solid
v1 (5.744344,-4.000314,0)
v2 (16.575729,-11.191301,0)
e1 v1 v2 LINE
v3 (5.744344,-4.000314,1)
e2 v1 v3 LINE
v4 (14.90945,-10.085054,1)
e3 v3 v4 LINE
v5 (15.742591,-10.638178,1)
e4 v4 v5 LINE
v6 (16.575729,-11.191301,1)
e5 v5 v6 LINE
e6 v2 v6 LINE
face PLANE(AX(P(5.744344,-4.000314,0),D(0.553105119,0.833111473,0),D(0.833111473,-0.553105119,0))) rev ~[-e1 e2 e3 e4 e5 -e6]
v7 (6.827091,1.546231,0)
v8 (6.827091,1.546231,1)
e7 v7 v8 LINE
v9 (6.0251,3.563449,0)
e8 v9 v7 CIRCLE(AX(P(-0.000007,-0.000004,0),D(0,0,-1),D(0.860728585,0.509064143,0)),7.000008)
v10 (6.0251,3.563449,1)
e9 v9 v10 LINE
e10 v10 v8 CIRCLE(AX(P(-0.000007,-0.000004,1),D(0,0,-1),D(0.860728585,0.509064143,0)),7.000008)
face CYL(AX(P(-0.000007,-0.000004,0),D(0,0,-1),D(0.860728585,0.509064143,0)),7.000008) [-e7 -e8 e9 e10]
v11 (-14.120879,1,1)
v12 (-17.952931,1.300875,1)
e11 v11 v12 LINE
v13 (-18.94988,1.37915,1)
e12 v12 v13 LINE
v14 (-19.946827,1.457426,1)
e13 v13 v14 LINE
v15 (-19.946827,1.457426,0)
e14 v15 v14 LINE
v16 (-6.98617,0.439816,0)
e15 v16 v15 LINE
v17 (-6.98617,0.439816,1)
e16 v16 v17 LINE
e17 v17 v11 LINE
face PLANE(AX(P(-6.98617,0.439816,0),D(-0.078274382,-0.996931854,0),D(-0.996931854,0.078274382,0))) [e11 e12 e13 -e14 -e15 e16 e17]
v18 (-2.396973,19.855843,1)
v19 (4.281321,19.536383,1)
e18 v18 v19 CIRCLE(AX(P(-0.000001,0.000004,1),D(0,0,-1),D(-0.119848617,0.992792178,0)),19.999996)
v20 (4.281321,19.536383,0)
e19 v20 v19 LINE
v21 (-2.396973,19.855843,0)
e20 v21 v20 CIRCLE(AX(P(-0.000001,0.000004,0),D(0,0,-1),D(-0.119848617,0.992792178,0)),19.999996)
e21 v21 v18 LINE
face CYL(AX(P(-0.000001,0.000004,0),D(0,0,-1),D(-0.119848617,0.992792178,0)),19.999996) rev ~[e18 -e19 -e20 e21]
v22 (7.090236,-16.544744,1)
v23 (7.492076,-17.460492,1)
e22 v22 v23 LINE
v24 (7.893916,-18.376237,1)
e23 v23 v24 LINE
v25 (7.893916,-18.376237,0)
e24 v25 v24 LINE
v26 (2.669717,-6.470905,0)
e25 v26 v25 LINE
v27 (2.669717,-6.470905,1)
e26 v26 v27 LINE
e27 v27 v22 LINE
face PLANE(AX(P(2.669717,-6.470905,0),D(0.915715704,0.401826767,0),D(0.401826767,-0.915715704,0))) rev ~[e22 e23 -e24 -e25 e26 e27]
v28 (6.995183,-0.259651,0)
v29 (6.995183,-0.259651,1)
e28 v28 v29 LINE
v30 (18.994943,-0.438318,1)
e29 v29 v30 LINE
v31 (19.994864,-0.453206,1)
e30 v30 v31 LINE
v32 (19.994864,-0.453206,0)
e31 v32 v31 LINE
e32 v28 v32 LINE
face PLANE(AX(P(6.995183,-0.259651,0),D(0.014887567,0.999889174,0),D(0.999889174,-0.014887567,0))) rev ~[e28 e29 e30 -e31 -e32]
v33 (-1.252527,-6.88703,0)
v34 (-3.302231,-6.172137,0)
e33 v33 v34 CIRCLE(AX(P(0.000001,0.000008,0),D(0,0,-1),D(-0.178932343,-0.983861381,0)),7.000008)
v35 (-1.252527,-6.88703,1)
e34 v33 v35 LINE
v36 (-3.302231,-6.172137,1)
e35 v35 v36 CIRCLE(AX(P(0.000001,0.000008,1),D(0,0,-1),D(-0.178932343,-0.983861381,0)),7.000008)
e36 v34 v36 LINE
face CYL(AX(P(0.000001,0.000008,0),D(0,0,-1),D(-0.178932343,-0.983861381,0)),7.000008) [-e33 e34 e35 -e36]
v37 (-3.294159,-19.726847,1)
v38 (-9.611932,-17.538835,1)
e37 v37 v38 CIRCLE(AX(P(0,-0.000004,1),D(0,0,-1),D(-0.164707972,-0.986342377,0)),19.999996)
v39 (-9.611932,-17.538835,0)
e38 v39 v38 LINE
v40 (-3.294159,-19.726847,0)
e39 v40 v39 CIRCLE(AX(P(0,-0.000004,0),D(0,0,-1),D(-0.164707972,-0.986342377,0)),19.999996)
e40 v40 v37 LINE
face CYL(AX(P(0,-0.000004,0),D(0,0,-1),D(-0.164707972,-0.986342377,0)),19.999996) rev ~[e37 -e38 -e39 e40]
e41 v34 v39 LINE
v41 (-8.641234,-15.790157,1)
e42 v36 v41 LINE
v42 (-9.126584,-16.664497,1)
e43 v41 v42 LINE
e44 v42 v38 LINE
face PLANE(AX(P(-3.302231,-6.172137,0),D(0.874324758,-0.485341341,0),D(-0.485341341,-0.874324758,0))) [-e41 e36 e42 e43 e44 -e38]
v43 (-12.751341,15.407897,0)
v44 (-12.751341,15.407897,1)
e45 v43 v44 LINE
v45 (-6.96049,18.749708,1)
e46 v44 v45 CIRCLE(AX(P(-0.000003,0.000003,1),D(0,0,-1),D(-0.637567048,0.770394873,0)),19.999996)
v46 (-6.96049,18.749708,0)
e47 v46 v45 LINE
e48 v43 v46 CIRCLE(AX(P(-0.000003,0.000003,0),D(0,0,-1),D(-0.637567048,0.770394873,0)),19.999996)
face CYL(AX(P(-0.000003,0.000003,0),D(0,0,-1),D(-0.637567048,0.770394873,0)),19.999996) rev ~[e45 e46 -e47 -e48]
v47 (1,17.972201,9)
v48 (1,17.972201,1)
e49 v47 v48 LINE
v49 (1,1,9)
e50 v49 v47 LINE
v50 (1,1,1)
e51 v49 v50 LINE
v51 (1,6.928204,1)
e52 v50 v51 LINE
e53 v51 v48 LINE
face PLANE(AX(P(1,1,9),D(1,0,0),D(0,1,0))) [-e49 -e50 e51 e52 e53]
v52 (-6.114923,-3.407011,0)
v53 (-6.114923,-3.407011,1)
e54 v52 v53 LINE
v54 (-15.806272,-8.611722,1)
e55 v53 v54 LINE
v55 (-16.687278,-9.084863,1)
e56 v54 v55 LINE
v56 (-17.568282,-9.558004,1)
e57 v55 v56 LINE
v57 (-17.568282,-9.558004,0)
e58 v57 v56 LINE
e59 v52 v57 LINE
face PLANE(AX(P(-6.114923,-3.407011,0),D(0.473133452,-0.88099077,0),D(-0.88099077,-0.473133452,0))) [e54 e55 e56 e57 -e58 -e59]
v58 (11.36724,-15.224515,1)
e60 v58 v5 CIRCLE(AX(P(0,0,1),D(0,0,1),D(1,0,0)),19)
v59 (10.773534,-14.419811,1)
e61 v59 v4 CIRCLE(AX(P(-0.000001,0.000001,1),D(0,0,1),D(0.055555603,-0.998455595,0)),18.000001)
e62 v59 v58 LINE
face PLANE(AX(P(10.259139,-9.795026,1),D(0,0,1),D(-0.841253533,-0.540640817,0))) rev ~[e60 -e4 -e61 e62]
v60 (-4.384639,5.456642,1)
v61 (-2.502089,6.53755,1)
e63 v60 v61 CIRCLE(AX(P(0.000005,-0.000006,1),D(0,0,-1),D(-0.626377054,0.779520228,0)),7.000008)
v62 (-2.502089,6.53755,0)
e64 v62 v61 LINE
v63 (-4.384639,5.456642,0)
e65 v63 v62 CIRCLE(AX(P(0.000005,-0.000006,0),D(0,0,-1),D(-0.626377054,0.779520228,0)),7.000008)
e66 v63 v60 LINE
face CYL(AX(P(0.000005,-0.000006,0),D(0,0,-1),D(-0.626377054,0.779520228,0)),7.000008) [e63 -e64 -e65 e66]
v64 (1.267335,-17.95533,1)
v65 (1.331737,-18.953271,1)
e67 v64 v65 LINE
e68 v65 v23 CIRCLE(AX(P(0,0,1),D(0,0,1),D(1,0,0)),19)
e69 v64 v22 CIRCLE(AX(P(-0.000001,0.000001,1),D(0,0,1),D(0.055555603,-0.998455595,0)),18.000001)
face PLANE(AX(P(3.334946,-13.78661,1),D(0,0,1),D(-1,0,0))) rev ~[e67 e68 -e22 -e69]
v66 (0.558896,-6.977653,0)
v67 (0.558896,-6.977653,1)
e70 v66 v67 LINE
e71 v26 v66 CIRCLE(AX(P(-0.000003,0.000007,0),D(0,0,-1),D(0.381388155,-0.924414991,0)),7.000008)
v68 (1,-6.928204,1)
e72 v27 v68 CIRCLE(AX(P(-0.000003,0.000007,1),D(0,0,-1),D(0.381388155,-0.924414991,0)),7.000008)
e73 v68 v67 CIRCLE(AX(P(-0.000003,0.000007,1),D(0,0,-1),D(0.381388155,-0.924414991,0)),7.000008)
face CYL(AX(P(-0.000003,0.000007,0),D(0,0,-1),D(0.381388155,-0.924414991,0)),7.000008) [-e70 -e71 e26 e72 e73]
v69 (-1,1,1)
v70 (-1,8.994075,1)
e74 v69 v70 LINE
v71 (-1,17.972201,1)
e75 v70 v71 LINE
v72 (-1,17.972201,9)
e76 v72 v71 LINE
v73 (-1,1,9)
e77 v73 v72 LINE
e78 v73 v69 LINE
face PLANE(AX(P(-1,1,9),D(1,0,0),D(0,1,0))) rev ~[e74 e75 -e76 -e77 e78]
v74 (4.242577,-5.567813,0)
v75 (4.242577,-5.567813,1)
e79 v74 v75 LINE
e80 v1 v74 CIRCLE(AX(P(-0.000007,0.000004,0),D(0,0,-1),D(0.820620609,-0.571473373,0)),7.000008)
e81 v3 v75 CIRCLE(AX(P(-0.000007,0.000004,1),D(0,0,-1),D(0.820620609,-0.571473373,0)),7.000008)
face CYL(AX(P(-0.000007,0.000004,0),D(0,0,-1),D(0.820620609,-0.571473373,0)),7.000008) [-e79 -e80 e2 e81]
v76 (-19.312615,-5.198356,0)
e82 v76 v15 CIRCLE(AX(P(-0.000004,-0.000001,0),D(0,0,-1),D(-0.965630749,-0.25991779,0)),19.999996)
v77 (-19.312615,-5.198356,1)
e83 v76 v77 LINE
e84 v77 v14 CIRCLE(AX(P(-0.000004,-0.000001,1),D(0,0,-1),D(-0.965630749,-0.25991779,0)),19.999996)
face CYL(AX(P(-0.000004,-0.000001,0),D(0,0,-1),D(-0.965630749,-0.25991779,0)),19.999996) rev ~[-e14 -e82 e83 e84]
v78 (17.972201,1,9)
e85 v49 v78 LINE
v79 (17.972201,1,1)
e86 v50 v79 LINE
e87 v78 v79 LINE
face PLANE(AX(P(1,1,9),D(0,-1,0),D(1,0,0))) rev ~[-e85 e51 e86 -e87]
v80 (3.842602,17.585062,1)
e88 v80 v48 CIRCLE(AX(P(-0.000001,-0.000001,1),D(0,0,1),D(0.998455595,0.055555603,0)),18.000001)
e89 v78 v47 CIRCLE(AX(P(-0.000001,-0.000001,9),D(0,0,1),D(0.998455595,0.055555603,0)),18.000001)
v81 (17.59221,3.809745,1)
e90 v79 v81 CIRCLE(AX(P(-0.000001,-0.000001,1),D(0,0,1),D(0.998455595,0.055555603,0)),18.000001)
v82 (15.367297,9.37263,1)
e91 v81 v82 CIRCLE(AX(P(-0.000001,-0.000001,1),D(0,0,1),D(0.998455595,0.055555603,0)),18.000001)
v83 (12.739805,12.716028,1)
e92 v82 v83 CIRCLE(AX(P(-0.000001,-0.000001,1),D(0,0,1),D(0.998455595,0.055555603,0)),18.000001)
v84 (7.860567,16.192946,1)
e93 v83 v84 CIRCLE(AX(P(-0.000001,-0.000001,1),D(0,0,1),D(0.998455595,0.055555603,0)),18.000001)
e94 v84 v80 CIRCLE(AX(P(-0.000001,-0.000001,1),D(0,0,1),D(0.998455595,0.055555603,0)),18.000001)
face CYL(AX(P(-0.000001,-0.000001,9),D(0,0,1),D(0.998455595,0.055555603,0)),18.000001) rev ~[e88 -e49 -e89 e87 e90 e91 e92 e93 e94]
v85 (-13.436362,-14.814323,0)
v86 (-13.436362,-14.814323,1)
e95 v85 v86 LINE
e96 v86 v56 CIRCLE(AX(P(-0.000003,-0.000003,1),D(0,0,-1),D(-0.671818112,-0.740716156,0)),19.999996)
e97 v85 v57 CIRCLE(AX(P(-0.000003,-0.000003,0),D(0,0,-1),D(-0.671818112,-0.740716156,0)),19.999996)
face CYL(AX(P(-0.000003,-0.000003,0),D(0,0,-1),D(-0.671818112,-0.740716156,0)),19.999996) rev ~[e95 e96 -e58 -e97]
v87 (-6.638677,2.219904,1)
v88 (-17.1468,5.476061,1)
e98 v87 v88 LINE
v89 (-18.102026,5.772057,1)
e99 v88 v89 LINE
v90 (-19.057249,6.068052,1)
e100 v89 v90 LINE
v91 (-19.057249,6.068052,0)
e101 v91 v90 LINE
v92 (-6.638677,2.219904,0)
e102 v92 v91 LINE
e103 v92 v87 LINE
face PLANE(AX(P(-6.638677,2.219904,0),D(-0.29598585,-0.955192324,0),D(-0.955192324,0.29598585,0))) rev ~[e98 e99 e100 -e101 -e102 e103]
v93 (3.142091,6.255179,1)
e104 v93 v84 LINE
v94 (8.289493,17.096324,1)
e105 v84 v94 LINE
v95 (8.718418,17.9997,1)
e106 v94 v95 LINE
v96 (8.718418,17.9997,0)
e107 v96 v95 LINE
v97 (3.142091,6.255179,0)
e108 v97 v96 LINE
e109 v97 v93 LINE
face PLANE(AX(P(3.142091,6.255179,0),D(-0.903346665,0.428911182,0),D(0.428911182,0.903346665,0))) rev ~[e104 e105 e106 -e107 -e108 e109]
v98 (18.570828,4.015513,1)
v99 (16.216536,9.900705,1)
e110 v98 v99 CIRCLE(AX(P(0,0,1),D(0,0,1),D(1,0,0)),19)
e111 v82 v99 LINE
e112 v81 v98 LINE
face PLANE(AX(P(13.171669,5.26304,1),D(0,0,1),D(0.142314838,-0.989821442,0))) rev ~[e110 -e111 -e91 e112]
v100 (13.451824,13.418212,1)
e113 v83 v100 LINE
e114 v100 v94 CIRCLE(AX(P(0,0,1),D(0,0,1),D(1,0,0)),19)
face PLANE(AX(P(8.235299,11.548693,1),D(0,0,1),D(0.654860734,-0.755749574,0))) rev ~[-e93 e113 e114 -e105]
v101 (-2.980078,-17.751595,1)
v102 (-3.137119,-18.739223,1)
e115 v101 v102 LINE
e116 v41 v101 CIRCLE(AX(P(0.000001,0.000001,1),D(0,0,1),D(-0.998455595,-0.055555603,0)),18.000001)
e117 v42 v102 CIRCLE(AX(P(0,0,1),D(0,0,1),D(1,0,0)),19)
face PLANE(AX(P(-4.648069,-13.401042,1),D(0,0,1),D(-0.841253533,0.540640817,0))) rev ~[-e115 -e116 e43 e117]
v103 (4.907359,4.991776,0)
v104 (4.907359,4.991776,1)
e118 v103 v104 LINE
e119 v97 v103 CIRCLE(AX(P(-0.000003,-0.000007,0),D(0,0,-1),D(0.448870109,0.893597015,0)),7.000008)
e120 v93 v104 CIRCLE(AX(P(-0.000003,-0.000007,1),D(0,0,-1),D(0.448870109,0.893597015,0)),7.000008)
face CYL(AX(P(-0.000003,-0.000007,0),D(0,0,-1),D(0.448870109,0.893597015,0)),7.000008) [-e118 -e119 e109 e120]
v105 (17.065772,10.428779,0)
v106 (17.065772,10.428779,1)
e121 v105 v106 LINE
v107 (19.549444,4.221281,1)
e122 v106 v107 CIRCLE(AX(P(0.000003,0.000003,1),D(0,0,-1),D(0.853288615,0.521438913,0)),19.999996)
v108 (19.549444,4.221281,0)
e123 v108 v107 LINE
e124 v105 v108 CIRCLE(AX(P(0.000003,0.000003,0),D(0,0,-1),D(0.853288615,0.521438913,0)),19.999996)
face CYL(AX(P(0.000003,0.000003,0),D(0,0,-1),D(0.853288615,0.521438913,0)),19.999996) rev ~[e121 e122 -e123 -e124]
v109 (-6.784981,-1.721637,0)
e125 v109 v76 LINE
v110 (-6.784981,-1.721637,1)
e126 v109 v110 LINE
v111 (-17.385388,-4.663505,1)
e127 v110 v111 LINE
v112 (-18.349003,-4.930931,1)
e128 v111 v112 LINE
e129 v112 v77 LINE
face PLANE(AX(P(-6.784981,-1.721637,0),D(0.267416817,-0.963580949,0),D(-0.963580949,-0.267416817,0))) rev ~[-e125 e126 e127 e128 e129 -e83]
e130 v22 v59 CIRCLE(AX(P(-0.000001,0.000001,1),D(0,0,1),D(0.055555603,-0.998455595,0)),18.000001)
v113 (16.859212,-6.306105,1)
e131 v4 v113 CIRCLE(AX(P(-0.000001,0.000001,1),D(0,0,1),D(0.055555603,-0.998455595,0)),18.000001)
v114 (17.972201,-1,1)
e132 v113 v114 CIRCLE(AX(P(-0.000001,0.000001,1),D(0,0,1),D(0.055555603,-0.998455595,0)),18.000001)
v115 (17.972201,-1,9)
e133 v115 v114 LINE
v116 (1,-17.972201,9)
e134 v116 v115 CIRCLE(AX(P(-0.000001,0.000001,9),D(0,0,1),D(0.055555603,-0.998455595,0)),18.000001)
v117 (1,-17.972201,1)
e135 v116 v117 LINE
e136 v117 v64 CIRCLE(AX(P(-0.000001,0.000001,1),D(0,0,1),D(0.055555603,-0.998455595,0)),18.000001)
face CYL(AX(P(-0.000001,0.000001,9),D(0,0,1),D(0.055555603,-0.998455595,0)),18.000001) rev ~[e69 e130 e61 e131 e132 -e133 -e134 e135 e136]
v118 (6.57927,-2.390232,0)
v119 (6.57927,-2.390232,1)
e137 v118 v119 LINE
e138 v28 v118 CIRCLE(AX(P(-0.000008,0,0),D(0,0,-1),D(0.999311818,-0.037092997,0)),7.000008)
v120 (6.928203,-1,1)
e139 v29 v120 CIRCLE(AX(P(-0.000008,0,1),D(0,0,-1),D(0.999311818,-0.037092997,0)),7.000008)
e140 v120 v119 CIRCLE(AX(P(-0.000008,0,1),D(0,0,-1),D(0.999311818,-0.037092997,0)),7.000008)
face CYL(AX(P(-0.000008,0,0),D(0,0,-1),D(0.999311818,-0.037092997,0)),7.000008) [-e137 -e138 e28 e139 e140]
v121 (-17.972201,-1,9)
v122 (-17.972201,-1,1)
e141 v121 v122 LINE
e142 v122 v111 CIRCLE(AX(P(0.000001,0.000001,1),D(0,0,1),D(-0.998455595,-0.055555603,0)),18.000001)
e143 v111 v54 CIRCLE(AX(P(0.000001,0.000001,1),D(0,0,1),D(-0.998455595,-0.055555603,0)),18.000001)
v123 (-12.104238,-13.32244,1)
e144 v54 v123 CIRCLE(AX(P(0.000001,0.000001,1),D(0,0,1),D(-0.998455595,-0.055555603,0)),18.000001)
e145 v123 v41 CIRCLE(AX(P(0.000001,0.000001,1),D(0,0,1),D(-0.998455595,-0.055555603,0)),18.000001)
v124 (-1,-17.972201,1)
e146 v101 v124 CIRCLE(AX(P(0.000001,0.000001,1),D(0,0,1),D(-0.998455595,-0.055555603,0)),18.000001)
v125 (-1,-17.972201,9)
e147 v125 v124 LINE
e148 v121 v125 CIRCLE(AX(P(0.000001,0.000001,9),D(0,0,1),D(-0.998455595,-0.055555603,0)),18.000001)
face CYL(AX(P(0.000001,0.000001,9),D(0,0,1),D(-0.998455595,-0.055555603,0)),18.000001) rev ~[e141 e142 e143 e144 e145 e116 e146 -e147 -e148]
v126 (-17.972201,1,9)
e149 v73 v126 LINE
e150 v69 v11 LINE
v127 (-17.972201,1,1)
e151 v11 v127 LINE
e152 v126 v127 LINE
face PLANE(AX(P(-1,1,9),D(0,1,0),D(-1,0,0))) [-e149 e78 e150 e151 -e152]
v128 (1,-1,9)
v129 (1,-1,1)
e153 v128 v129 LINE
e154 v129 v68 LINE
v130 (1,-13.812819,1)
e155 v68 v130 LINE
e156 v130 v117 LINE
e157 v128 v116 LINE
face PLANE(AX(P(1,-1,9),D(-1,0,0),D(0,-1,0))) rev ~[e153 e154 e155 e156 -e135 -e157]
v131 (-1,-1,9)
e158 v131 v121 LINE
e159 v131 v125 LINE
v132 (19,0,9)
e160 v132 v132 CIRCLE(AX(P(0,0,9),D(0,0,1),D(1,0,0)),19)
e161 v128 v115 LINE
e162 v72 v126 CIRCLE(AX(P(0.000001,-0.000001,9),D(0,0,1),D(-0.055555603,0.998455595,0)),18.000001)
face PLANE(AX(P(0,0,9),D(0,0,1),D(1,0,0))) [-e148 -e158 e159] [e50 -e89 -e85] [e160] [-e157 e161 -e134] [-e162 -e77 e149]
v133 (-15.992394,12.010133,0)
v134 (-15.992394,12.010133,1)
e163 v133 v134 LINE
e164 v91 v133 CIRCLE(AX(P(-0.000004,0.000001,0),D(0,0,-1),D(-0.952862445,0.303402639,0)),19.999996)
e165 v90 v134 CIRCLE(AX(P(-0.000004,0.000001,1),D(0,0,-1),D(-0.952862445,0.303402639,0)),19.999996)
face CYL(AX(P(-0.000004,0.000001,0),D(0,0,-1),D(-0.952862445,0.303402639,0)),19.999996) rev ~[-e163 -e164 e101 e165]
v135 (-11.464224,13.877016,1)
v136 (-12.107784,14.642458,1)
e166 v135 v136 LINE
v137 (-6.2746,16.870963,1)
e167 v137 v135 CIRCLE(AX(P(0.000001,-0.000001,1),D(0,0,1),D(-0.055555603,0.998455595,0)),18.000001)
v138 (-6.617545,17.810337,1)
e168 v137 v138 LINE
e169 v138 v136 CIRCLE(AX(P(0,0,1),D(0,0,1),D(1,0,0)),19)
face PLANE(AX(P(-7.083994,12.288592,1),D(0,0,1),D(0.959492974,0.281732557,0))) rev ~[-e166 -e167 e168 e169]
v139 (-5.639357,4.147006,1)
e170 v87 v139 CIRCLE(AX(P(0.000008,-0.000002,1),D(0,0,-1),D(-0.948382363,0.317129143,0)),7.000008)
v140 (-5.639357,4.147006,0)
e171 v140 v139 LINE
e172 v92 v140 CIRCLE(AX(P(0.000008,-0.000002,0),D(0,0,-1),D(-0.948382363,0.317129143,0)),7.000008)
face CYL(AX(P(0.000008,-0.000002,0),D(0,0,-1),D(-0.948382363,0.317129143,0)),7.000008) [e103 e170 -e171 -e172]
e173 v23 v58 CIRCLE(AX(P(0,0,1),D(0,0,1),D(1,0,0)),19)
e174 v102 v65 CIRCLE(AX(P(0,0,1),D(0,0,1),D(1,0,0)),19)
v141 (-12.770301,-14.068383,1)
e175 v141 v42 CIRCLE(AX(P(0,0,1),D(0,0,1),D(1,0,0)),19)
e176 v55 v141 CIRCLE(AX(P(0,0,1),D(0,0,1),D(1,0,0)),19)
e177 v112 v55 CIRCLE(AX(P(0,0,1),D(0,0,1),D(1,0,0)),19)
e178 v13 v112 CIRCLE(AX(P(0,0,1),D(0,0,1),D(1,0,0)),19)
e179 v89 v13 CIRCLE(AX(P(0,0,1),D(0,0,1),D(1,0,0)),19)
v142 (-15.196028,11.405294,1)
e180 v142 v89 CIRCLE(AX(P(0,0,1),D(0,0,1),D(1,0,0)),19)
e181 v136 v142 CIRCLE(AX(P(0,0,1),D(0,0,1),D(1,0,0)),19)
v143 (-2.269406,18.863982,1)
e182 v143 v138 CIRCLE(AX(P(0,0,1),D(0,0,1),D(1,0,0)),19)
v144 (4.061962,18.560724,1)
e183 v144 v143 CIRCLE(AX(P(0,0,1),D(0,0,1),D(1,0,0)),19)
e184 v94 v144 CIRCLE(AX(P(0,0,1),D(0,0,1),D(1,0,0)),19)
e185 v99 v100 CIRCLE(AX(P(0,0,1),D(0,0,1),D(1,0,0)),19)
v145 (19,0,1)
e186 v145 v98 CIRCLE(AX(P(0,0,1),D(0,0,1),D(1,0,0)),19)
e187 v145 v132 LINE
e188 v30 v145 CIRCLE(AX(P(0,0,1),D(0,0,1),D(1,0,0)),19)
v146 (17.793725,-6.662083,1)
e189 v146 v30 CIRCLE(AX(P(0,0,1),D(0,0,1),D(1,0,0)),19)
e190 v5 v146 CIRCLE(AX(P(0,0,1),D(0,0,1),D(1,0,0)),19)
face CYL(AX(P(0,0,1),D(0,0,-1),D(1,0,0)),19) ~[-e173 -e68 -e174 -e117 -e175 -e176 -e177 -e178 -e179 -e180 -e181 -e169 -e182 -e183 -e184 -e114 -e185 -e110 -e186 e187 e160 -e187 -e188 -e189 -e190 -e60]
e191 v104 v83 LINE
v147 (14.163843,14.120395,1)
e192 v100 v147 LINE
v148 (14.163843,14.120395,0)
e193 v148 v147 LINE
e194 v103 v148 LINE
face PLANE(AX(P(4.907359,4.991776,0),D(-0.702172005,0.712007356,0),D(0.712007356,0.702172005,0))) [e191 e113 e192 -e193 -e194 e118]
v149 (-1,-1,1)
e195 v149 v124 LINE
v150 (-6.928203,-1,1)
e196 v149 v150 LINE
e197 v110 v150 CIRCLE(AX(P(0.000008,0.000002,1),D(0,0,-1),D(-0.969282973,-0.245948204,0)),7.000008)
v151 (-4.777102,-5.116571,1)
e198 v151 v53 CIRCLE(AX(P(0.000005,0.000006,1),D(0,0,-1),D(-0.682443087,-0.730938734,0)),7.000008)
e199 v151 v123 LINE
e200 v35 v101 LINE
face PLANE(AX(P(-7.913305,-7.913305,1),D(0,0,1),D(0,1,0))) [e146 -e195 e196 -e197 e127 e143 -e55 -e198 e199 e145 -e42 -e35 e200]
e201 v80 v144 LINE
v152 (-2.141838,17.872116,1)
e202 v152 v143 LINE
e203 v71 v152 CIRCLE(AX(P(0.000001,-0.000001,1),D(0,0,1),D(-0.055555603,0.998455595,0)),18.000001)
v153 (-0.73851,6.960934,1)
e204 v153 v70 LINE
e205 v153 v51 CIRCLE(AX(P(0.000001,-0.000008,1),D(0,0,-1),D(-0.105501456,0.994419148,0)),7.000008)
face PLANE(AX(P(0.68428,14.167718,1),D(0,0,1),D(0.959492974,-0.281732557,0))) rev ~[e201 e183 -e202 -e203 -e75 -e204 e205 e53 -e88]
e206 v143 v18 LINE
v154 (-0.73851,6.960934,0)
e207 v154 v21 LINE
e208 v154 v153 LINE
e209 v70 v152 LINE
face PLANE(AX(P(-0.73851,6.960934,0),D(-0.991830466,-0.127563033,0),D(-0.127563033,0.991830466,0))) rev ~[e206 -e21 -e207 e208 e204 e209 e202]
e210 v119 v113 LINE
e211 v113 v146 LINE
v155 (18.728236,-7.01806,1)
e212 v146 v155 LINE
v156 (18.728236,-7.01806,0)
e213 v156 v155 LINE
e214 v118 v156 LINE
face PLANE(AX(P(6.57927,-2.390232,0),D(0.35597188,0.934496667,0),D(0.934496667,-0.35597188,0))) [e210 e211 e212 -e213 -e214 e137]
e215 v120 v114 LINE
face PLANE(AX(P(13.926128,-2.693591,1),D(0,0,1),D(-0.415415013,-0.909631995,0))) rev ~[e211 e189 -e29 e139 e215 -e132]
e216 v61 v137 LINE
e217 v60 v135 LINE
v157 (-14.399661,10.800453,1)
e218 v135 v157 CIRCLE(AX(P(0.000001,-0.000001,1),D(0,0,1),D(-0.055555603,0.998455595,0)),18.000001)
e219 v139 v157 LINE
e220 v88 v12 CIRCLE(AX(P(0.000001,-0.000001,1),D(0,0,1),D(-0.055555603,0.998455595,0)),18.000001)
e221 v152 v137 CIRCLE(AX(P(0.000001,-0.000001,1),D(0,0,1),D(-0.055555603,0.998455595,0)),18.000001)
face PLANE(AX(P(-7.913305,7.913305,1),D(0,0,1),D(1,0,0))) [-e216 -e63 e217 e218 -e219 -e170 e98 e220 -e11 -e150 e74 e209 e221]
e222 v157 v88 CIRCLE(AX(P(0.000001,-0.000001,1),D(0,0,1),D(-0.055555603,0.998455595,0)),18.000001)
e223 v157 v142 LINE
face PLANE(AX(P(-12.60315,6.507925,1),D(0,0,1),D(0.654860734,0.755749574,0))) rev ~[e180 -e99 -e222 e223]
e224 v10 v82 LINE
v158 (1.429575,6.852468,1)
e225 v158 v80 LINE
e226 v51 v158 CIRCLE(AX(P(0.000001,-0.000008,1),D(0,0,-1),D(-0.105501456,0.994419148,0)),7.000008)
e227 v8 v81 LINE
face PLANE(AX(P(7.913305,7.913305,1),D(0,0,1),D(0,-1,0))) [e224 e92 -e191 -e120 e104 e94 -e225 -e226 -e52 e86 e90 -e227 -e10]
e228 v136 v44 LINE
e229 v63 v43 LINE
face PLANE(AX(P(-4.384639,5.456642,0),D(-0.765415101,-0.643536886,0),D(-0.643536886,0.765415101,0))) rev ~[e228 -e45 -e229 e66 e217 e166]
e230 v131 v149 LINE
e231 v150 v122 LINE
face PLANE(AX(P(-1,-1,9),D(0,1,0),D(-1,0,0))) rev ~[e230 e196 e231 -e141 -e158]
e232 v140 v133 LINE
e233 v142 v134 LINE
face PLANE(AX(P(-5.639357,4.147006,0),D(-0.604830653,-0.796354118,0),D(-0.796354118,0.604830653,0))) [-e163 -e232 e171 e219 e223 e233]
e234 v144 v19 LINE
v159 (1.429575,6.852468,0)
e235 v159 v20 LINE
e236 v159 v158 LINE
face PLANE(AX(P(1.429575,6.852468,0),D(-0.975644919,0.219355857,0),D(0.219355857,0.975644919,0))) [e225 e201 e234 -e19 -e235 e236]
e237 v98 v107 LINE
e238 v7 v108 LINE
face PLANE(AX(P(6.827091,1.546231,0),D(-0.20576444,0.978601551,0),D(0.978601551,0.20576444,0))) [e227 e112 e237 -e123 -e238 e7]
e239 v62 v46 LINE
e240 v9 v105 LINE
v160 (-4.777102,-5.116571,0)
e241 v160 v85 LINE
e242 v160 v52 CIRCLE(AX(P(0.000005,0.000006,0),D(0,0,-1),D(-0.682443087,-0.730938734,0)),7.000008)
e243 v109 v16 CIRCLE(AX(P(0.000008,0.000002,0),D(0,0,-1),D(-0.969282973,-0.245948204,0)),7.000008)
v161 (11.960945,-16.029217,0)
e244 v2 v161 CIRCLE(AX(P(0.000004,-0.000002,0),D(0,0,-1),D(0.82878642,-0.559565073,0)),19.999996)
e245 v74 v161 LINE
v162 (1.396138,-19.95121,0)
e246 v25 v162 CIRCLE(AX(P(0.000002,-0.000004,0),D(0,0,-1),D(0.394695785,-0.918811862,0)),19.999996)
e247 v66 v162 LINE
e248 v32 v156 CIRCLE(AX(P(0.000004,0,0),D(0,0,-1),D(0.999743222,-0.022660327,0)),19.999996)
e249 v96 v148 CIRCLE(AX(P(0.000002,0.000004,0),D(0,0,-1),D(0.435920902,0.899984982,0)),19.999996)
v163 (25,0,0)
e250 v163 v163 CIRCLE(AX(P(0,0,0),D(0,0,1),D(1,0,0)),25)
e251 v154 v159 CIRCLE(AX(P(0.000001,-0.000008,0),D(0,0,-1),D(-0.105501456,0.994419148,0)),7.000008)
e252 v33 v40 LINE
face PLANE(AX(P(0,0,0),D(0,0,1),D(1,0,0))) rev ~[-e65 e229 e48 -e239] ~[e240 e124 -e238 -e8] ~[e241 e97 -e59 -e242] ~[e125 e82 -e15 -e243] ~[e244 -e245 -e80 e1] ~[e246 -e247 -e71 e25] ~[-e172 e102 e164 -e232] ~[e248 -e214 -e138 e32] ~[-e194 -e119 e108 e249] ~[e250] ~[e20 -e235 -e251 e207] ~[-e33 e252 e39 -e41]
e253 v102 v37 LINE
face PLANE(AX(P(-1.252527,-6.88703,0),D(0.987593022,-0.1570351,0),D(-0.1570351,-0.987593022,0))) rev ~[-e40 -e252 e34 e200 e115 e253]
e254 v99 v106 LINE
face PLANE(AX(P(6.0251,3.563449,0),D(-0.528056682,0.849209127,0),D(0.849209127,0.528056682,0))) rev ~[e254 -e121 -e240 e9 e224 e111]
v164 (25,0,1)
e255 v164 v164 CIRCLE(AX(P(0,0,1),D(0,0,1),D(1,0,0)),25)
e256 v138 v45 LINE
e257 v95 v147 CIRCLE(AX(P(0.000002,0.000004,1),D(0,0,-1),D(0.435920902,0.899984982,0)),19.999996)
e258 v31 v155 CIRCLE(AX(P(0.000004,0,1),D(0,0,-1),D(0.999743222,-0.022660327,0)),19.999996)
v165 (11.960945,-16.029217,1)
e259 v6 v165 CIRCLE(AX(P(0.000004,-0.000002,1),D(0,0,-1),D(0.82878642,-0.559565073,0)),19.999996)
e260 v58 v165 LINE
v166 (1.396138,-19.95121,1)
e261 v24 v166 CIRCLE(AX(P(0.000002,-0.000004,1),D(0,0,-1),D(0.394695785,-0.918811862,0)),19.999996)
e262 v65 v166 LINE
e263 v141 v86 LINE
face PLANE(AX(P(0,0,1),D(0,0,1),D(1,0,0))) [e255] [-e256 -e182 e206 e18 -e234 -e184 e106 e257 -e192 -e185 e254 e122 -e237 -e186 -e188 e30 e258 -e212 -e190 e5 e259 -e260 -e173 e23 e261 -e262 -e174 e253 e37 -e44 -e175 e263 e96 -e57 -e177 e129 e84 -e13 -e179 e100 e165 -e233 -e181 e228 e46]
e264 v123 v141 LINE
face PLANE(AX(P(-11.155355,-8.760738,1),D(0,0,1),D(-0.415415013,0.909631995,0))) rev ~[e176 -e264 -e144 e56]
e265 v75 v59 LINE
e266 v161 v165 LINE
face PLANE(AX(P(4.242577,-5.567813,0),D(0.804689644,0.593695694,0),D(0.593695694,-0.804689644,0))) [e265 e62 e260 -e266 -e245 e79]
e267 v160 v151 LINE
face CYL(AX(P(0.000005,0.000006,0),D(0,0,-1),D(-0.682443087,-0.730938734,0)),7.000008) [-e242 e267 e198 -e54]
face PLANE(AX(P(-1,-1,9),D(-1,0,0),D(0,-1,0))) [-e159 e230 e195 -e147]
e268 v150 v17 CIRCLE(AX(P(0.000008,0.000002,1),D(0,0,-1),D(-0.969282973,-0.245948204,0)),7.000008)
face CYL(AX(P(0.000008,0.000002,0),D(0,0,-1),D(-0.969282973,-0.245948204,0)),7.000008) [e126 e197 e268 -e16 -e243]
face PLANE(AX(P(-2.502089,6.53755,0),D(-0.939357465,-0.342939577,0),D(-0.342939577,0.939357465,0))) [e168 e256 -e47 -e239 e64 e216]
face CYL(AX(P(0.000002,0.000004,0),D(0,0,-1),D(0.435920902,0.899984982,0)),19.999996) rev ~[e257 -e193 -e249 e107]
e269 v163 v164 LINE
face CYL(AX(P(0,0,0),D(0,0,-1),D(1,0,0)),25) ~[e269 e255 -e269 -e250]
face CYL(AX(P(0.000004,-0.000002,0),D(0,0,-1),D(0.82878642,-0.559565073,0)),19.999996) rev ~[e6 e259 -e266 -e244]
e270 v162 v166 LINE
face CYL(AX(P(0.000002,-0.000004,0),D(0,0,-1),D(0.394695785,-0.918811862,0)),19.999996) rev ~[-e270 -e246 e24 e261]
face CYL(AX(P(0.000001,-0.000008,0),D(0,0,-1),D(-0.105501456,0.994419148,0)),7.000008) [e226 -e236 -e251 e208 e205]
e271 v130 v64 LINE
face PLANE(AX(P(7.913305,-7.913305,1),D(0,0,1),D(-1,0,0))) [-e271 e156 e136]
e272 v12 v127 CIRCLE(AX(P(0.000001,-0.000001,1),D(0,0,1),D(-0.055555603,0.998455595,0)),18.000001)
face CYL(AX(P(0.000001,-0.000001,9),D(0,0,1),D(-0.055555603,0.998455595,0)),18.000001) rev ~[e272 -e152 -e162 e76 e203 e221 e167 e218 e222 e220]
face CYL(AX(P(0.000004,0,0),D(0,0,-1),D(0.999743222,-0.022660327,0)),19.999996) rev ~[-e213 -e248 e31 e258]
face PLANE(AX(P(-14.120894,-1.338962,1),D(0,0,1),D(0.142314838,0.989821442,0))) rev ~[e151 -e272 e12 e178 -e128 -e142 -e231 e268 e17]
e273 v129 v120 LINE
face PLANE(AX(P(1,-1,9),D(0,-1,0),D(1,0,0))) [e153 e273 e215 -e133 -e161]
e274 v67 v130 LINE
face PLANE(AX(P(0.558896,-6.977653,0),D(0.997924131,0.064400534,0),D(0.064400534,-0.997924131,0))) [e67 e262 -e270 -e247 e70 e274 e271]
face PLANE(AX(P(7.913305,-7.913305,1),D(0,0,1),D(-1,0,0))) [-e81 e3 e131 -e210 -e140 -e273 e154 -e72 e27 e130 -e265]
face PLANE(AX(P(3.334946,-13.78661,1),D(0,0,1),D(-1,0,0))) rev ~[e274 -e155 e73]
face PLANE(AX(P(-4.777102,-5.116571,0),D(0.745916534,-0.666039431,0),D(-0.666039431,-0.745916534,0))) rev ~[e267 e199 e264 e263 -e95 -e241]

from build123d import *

# Parameters (mm, degrees)
SKETCH_R              = 25
PAD_DEPTH             = 1
SKETCH001_R           = 19
PAD001_DEPTH          = 8
POCKET_DEPTH          = 8
POLARPATTERN_COUNT    = 4
POCKET001_DEPTH       = 1
POLARPATTERN001_COUNT = 11


with BuildPart() as part:
    # Sketch → Pad (new body)
    with BuildSketch(Plane.XY):
        Circle(SKETCH_R)
    extrude(amount=PAD_DEPTH)

    # Sketch001 (on Face3 of Pad) → Pad001 (join)
    with BuildSketch(Plane.XY.offset(1)):
        Circle(SKETCH001_R)
    extrude(amount=PAD001_DEPTH)

    # Sketch002 (on Face5 of Pad001) → Pocket (cut)
    with BuildSketch(Plane.XY.offset(9)):
        with BuildLine():
            ThreePointArc((-1, 17.972201), (-12.727922, 12.727922), (-17.972201, 1))
            Line((-1, 1), (-17.972201, 1))
            Line((-1, 1), (-1, 17.972201))
        make_face()
    pocket = extrude(amount=-POCKET_DEPTH, mode=Mode.SUBTRACT)

    # PolarPattern: Pocket ×4 about axis
    polarpattern_axis = Axis((0, 0, 9), (0, 0, 1))
    for i in range(1, POLARPATTERN_COUNT):
        add(pocket.rotate(polarpattern_axis, i * 360 / POLARPATTERN_COUNT), mode=Mode.SUBTRACT)

    # Sketch003 (on Face2 of PolarPattern) → Pocket001 (cut)
    with BuildSketch(Plane(origin=(0, 0, 0), x_dir=(1, 0, 0), z_dir=(0, 0, -1))):
        with BuildLine():
            Line((0.558896, 6.977653), (1.396138, 19.95121))
            ThreePointArc((7.893916, 18.376237), (4.711307, 19.43717), (1.396138, 19.95121))
            Line((2.669717, 6.470905), (7.893916, 18.376237))
            ThreePointArc((2.669717, 6.470905), (1.63407, 6.806601), (0.558896, 6.977653))
        make_face()
    pocket001 = extrude(amount=-POCKET001_DEPTH, mode=Mode.SUBTRACT)

    # PolarPattern001: Pocket001 ×11 about axis
    polarpattern001_axis = Axis((0, 0, 0), (0, 0, -1))
    for i in range(1, POLARPATTERN001_COUNT):
        add(pocket001.rotate(polarpattern001_axis, i * 360 / POLARPATTERN001_COUNT), mode=Mode.SUBTRACT)


solid = part.part
